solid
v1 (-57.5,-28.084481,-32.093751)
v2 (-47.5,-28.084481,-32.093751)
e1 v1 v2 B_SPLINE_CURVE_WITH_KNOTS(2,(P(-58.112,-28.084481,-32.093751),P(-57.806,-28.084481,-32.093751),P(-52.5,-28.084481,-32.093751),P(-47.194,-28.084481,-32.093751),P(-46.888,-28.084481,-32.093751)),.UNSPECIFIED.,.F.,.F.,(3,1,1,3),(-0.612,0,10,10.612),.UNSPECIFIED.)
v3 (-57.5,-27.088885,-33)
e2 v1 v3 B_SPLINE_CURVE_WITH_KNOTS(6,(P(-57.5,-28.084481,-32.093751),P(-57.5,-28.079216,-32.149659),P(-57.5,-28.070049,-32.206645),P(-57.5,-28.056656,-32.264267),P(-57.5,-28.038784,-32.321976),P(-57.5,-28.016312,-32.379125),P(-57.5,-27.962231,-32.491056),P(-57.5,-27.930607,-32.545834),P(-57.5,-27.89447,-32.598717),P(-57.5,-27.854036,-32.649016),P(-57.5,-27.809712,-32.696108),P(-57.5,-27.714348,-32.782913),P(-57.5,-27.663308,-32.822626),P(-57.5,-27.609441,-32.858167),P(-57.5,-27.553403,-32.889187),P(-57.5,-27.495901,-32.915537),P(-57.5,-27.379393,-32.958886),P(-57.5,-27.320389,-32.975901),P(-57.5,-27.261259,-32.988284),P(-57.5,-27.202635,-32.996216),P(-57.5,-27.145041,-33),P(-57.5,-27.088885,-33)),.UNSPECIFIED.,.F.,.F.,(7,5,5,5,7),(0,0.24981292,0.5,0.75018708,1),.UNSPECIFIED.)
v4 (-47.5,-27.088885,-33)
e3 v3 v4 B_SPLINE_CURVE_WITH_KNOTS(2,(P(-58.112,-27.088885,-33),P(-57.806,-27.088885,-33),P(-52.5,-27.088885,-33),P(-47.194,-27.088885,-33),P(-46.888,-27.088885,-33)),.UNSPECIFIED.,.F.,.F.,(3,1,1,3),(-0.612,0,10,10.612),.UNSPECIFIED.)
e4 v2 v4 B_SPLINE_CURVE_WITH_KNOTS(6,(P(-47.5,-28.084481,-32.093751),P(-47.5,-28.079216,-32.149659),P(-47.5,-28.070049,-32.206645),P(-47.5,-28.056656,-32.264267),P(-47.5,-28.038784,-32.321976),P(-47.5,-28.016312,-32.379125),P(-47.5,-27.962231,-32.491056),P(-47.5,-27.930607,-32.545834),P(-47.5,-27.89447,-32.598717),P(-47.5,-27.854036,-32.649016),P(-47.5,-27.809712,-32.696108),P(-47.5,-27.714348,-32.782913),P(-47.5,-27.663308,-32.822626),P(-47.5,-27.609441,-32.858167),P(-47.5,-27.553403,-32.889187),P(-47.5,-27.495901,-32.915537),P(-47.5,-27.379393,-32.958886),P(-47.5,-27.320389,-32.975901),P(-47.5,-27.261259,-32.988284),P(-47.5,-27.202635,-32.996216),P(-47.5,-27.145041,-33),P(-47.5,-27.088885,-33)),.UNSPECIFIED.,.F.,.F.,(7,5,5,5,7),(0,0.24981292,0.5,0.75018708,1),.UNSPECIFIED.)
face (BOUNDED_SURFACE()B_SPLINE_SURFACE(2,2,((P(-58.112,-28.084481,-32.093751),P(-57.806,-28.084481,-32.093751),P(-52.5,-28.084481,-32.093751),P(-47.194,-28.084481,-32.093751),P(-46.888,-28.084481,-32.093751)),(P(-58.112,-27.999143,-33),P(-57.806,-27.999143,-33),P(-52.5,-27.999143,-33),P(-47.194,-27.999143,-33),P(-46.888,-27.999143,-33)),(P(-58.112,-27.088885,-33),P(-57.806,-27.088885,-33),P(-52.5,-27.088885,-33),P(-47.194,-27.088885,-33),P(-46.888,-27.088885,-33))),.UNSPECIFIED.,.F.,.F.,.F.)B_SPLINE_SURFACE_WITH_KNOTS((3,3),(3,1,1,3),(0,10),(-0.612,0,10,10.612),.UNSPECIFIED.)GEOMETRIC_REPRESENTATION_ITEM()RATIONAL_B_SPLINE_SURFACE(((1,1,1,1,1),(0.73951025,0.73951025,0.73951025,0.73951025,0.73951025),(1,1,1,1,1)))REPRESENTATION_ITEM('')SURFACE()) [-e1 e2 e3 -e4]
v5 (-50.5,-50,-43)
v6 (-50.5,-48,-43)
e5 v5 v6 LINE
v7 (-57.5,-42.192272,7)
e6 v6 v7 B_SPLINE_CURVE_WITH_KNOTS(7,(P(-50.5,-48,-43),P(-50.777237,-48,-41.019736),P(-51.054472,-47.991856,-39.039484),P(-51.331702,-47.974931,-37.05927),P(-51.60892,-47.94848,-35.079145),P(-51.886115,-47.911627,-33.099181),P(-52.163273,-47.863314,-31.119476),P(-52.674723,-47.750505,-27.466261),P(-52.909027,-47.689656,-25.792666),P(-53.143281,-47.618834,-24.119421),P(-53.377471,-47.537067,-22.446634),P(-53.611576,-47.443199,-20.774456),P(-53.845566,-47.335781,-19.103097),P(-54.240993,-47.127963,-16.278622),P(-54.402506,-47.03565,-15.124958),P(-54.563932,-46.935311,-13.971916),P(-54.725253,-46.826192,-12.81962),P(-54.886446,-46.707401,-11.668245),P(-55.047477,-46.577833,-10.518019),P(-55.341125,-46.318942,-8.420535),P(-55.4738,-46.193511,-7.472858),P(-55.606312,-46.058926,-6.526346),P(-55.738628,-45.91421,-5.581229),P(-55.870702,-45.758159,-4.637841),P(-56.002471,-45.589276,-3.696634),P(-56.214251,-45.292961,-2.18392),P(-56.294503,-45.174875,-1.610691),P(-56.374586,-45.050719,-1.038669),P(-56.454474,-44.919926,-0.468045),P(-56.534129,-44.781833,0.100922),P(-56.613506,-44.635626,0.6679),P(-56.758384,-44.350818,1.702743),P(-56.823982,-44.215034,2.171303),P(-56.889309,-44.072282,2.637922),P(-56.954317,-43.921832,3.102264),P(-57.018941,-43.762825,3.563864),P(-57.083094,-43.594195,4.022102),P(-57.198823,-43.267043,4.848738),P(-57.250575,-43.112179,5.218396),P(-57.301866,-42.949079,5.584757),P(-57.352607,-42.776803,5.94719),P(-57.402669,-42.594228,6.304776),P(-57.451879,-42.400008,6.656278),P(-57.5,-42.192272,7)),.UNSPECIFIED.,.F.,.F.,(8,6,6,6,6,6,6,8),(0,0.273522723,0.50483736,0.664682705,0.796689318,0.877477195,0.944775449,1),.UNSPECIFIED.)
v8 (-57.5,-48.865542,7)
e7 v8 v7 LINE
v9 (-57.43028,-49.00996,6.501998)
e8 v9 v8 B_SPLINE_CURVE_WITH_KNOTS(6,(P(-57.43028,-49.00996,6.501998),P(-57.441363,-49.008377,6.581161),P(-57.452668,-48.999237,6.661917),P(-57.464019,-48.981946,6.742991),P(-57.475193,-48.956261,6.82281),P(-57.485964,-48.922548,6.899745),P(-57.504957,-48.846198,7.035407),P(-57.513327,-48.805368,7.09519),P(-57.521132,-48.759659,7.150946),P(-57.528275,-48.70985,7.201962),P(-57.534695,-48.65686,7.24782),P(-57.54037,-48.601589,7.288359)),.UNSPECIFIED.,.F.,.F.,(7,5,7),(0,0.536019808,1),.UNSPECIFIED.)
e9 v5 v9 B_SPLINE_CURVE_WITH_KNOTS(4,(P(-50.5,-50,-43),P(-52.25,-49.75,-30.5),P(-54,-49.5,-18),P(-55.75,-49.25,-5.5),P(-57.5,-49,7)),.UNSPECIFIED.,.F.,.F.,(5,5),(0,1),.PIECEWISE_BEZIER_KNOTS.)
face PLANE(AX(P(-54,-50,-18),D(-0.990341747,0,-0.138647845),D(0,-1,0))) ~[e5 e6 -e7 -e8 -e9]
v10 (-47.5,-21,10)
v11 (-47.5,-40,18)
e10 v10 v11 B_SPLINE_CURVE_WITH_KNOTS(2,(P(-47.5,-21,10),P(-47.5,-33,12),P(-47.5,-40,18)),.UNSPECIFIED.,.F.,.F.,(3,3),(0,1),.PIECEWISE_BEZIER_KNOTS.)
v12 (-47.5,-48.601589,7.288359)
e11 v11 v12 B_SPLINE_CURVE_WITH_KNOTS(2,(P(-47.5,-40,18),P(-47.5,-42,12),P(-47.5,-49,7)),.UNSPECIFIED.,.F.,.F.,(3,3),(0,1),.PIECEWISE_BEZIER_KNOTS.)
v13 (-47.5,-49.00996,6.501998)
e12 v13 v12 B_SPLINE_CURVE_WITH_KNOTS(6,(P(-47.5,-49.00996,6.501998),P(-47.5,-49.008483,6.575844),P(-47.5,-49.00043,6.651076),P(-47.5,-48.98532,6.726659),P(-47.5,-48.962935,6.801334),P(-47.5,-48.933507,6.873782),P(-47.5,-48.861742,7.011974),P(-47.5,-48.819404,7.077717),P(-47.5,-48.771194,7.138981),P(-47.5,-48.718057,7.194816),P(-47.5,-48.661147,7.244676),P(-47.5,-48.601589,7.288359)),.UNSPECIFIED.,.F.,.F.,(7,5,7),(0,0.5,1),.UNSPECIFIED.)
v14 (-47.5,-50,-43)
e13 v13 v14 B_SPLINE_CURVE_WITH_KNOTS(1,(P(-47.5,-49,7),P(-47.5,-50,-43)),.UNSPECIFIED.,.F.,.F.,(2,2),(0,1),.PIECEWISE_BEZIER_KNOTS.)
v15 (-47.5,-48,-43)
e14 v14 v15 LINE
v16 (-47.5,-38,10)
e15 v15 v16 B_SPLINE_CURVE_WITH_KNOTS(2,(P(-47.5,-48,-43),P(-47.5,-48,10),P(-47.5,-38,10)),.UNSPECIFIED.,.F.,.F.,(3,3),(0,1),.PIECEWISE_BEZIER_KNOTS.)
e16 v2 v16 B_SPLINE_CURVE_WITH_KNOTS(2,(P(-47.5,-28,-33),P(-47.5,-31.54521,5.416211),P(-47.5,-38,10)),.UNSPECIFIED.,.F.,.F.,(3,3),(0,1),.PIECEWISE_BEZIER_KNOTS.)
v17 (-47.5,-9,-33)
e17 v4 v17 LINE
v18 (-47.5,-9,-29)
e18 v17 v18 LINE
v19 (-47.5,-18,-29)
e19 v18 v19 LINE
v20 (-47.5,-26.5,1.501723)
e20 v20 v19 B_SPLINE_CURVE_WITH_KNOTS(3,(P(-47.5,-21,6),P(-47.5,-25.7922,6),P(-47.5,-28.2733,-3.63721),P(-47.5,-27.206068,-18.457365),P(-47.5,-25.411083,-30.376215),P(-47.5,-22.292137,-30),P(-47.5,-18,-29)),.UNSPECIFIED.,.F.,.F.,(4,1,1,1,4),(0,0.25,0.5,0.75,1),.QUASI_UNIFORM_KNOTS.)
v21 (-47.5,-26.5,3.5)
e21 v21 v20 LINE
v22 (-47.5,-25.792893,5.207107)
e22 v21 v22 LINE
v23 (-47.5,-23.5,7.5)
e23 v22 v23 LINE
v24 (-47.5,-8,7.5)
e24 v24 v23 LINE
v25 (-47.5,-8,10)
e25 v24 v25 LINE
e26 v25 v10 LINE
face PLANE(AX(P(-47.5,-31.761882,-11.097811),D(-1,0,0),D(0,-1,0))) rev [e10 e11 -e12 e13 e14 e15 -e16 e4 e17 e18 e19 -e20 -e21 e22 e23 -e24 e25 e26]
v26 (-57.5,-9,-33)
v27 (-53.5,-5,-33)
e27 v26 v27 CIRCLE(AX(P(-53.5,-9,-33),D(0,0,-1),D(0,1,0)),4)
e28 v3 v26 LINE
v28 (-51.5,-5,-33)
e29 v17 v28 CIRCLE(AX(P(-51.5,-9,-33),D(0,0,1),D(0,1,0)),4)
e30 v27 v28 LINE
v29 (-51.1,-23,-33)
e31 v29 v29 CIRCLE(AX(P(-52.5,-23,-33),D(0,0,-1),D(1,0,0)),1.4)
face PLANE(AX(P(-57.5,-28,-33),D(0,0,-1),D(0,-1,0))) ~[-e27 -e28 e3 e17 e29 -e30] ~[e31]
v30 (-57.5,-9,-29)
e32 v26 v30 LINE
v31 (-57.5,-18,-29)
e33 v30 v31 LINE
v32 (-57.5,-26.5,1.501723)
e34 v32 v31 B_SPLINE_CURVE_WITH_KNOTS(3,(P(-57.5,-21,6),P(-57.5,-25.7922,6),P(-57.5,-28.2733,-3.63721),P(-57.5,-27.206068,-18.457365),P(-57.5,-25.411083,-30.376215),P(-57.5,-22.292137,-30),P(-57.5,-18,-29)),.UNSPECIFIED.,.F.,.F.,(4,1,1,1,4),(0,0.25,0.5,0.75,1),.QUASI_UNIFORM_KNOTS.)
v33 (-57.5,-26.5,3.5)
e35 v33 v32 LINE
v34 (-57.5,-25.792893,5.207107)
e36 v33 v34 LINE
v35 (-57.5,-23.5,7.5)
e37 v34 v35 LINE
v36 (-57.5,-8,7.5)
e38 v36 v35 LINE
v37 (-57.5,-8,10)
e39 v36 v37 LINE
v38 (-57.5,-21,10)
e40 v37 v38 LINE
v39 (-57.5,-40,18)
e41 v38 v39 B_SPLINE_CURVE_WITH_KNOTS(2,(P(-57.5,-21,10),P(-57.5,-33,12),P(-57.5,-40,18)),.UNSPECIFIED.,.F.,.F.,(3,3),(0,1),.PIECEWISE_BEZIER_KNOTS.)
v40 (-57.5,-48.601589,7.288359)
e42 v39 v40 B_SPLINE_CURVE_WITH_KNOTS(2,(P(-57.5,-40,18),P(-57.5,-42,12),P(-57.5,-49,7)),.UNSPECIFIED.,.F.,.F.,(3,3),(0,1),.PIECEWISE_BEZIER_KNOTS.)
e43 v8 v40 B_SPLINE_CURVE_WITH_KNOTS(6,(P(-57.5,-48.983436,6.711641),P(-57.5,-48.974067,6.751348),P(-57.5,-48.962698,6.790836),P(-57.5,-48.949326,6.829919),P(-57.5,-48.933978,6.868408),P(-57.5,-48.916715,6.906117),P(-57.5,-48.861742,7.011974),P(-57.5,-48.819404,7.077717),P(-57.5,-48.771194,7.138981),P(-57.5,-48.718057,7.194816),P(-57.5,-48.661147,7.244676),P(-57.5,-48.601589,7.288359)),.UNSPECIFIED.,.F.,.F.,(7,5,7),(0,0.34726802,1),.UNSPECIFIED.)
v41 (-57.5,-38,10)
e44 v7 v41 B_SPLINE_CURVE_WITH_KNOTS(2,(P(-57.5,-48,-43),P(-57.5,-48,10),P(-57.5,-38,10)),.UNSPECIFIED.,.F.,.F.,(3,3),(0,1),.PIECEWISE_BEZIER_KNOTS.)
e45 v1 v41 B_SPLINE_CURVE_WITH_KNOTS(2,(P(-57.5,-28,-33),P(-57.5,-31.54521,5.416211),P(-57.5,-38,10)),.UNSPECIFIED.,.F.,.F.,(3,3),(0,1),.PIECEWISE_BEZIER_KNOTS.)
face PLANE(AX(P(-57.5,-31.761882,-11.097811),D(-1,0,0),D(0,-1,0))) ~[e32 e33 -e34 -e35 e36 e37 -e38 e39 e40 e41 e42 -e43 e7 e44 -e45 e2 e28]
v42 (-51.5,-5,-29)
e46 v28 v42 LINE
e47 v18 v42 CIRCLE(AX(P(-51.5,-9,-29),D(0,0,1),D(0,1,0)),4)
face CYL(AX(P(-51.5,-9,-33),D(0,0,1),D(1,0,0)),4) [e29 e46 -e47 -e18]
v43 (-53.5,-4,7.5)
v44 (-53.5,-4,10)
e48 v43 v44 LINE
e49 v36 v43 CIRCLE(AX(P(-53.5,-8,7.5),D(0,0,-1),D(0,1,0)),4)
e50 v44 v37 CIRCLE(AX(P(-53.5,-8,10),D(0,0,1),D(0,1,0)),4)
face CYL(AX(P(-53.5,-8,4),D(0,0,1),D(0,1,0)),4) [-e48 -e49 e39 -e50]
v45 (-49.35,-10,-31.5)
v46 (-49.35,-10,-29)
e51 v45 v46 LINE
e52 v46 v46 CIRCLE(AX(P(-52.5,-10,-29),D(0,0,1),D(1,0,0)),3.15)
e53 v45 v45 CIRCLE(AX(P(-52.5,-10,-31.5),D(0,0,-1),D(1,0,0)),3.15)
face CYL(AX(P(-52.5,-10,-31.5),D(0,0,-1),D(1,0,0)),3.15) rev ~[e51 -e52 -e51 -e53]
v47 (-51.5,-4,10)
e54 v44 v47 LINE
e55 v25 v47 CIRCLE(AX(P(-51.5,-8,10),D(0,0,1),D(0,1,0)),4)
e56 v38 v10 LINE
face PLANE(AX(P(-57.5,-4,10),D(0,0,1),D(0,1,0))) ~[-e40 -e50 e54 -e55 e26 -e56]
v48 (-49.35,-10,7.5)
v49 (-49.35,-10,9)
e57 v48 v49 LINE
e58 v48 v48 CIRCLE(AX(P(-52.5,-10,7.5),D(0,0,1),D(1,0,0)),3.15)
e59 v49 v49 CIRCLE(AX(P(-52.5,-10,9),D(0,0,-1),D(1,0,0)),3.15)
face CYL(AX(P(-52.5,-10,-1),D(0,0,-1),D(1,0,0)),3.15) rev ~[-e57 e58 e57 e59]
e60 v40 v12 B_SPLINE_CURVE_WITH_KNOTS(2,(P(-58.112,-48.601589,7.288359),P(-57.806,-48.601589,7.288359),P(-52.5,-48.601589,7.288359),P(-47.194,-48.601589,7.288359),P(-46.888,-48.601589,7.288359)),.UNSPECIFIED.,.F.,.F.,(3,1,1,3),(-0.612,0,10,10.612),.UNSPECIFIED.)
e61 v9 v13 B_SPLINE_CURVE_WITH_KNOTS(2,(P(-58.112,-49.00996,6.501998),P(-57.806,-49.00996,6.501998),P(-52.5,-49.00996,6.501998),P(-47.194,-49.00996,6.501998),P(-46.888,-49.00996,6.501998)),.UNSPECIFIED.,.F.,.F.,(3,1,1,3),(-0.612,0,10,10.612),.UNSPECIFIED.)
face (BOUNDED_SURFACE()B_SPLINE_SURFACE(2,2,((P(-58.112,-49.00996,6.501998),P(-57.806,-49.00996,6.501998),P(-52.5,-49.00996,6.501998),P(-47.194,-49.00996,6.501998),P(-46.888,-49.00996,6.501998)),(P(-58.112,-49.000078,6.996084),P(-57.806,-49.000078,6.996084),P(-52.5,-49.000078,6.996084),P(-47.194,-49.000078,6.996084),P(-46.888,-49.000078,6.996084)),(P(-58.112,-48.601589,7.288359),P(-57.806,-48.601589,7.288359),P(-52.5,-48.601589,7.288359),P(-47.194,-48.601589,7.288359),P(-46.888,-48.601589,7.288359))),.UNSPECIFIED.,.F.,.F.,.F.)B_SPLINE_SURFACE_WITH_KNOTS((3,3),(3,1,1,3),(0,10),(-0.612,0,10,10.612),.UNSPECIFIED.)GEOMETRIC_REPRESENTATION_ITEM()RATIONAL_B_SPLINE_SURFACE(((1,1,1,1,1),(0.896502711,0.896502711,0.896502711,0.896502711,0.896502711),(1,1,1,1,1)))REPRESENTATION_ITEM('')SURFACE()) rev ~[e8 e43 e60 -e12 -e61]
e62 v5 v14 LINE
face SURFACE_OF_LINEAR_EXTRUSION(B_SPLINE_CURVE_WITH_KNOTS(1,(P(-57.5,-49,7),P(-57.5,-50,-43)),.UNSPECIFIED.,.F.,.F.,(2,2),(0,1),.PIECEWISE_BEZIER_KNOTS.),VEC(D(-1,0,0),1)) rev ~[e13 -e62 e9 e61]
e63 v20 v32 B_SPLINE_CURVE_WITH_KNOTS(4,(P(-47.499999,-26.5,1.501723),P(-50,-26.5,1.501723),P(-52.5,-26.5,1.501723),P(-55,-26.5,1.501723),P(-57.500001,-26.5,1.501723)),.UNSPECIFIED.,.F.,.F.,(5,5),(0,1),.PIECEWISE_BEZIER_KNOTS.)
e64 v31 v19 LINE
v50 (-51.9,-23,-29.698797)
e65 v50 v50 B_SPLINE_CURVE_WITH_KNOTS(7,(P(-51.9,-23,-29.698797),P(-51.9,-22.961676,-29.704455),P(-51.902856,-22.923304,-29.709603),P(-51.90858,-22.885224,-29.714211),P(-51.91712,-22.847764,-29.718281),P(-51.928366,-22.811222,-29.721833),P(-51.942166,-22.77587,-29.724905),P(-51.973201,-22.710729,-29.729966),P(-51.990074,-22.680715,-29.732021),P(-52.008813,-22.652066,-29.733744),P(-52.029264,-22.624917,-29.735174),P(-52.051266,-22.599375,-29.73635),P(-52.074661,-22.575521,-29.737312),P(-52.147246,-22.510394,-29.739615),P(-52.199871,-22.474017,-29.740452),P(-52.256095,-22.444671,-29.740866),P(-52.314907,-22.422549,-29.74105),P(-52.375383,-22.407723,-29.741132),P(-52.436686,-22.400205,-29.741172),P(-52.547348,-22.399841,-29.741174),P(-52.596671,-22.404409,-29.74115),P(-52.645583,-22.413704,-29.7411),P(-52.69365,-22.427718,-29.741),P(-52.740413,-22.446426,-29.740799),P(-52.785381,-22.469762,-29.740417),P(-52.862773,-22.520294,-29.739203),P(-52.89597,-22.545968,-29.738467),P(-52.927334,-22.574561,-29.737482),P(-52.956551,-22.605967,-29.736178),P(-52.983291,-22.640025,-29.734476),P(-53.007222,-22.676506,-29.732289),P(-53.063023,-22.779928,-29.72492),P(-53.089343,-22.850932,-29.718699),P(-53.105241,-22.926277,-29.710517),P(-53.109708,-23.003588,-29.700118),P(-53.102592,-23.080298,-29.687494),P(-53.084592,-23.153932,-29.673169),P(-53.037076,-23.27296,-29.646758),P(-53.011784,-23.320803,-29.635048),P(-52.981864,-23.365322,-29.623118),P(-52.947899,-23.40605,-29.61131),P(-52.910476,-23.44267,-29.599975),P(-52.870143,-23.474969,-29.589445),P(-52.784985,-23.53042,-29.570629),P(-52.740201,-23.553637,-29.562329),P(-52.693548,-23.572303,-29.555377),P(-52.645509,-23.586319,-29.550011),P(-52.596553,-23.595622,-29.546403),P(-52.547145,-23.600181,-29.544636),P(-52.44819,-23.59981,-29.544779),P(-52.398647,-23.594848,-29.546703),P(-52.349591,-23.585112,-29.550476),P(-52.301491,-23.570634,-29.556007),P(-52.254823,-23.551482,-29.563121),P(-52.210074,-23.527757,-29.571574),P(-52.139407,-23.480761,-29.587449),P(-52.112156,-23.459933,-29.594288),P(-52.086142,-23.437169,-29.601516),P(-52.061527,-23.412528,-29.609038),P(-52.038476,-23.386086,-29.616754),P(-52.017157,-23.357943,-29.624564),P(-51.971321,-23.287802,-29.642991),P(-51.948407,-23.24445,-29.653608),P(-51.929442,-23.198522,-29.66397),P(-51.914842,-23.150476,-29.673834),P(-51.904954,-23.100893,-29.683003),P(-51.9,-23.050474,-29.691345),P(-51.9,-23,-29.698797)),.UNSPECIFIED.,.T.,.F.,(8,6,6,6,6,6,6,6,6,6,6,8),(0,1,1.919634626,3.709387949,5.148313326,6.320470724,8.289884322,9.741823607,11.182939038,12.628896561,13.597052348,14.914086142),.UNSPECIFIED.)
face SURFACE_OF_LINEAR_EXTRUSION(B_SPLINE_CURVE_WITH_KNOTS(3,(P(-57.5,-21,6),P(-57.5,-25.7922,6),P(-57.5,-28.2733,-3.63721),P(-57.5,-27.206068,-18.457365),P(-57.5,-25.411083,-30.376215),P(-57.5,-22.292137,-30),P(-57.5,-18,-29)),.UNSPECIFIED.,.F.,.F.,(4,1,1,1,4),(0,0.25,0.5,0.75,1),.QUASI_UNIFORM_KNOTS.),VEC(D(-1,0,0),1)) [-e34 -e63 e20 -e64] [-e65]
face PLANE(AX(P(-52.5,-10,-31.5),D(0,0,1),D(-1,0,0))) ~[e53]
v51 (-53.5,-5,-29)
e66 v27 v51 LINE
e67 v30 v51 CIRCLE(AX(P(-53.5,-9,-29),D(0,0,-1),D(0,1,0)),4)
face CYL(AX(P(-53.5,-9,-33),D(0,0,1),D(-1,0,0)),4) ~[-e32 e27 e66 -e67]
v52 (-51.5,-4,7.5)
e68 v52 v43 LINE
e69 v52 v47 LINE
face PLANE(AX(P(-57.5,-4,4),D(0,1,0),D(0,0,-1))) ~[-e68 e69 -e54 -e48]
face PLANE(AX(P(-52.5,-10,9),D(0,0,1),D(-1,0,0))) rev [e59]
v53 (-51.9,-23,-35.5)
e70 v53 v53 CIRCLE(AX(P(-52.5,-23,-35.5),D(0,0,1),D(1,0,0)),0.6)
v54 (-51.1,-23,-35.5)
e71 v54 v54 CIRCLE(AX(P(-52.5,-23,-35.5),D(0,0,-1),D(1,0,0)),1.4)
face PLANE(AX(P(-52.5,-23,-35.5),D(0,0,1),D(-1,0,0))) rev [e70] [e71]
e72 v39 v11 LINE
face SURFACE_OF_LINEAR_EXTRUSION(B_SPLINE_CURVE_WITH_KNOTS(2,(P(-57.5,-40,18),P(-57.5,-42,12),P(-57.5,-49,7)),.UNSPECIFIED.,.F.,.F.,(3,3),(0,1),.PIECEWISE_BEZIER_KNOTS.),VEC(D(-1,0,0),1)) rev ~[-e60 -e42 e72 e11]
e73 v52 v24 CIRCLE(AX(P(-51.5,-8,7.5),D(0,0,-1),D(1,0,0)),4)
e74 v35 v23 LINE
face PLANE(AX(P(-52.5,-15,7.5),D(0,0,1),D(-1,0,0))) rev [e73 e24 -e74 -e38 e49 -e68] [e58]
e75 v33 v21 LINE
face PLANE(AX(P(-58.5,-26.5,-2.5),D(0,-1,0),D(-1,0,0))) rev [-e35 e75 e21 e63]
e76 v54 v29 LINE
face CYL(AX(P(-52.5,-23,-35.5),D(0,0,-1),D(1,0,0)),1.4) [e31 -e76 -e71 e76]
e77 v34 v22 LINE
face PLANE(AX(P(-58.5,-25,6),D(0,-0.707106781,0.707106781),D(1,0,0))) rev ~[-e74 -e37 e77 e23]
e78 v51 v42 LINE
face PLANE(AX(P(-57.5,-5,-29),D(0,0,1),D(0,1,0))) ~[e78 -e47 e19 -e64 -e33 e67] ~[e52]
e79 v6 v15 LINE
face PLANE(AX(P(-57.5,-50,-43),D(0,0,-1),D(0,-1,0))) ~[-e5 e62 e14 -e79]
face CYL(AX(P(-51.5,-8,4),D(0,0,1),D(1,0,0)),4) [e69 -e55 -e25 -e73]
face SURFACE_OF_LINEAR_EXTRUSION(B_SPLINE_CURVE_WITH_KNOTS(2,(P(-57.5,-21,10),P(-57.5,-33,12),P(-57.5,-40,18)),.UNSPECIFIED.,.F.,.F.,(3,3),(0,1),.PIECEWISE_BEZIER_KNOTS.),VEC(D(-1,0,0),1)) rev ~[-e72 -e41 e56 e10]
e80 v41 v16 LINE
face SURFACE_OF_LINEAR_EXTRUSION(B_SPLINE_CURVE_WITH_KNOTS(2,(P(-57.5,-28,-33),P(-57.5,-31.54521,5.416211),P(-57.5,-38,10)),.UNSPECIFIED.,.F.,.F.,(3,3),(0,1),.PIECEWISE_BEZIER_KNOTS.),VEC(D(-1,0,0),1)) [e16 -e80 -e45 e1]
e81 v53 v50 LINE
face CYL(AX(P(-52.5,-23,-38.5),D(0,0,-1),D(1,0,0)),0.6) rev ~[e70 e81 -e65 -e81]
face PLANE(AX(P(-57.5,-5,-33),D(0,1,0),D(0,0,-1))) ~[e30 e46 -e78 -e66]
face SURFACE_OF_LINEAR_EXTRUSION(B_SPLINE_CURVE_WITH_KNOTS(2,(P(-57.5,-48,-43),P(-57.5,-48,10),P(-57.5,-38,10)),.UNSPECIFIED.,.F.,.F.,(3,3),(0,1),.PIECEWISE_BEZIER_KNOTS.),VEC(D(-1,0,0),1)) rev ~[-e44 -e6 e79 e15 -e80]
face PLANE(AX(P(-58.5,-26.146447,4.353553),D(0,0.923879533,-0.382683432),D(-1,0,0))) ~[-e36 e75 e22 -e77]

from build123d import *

# Parameters (mm, degrees)
CYLINDER129_R                     = 3.15
CYLINDER129_DEPTH                 = 10
CYLINDER131_R                     = 0.6
CYLINDER131_DEPTH                 = 20
BOX076_W                          = 12
BOX076_H                          = 23
BOX076_DEPTH                      = 10
CHAMFER015_SIZE                   = 3
CHAMFER014_SIZE                   = 1
CYLINDER130_R                     = 3.15
CYLINDER130_DEPTH                 = 10
PAD011_DEPTH                      = 10
CHAMFER016_SIZE2                  = 50
CHAMFER016_SIZE                   = 7
FILLET074_R                       = 1
FILLET072_R                       = 1
FILLET071_R                       = 4
CYLINDER132_R                     = 1.4
CYLINDER132_DEPTH                 = 2.5
FILLET073_R                       = 4
PART_MIRRORING002_PLACEMENT_ANGLE = 180


with BuildPart() as zylinder129:
    # Cylinder129 → Cylinder129 (new body)
    with BuildSketch(Plane(origin=(-52.5, 10, -1), x_dir=(1, 0, 0), z_dir=(0, 0, 1))):
        Circle(CYLINDER129_R)
    extrude(amount=CYLINDER129_DEPTH)


with BuildPart() as zylinder131:
    # Cylinder131 → Cylinder131 (new body)
    with BuildSketch(Plane(origin=(-52.5, 23, -38.5), x_dir=(1, 0, 0), z_dir=(0, 0, 1))):
        Circle(CYLINDER131_R)
    extrude(amount=CYLINDER131_DEPTH)


with BuildPart() as chamfer014:
    # Box076 → Box076 (new body)
    with BuildSketch(Plane(origin=(-58.5, 3.5, -2.5), x_dir=(1, 0, 0), z_dir=(0, 0, 1))):
        with Locations((6, 11.5)):
            Rectangle(BOX076_W, BOX076_H)
    extrude(amount=BOX076_DEPTH)

    # Chamfer015
    chamfer015_edges = [chamfer014.edges().sort_by_distance(p)[0] for p in [
        (-52.5, 26.5, 7.5),
    ]]
    chamfer(chamfer015_edges, length=CHAMFER015_SIZE)

    # Chamfer014
    chamfer014_edges = [chamfer014.edges().sort_by_distance(p)[0] for p in [
        (-52.5, 26.5, 4.5),
    ]]
    chamfer(chamfer014_edges, length=CHAMFER014_SIZE)


with BuildPart() as fusion086:
    # Cylinder130 → Cylinder130 (new body)
    with BuildSketch(Plane(origin=(-52.5, 10, -31.5), x_dir=(1, 0, 0), z_dir=(0, 0, 1))):
        Circle(CYLINDER130_R)
    extrude(amount=CYLINDER130_DEPTH)

    # Fusion086: union Zylinder129, Zylinder131, Chamfer014
    add(zylinder129.part)
    add(zylinder131.part)
    add(chamfer014.part)


with BuildPart() as fillet071:
    # Sketch011 → Pad011 (new body)
    with BuildSketch(Plane.YZ):
        with BuildLine():
            Line((16, 4), (4, 4))
            Line((4, 4), (4, 10))
            Line((4, 10), (21, 10))
            add(Edge.make_bspline(
                [(21, 10), (33, 12), (40, 18)],
                knots=[0, 0, 0, 1, 1, 1], degree=2))
            add(Edge.make_bspline(
                [(40, 18), (42, 12), (49, 7)],
                knots=[0, 0, 0, 1, 1, 1], degree=2))
            add(Edge.make_bspline(
                [(49, 7), (50, -43)],
                knots=[0, 0, 1, 1], degree=1))
            Line((50, -43), (48, -43))
            add(Edge.make_bspline(
                [(48, -43), (48, 10), (38, 10)],
                knots=[0, 0, 0, 1, 1, 1], degree=2))
            add(Edge.make_bspline(
                [(28, -33), (31.54521, 5.416211), (38, 10)],
                knots=[0, 0, 0, 1, 1, 1], degree=2))
            Line((28, -33), (5, -33))
            Line((5, -33), (5, -29))
            Line((5, -29), (18, -29))
            add(Edge.make_bspline(
                [(21, 6), (25.7922, 6), (28.2733, -3.63721), (27.206068, -18.457365), (25.411083, -30.376215), (22.292137, -30), (18, -29)],
                knots=[0, 0, 0, 0, 0.25, 0.5, 0.75, 1, 1, 1, 1], degree=3))
            Line((21, 6), (16, 4))
        make_face()
    extrude(amount=PAD011_DEPTH)

    # Chamfer016
    chamfer016_edges = [fillet071.edges().sort_by_distance(p)[0] for p in [
        (0, 49, -43),
    ]]
    chamfer016_side = fillet071.faces().sort_by_distance((5, 49, -43))[0]
    chamfer(chamfer016_edges, length=CHAMFER016_SIZE, length2=CHAMFER016_SIZE2, reference=chamfer016_side)


with BuildPart() as fillet071_1:
    # Chamfer016 placement: moved
    add(fillet071.part.moved(Location((11.5, 0, 0))))

    # Fillet074
    fillet074_edges = [fillet071_1.edges().sort_by_distance(p)[0] for p in [
        (16.5, 49, 7),
    ]]
    fillet(fillet074_edges, radius=FILLET074_R)

    # Fillet072
    fillet072_edges = [fillet071_1.edges().sort_by_distance(p)[0] for p in [
        (16.5, 28, -33),
    ]]
    fillet(fillet072_edges, radius=FILLET072_R)

    # Fillet071
    fillet071_edges = [fillet071_1.edges().sort_by_distance(p)[0] for p in [
        (21.5, 4, 7),
        (11.5, 4, 7),
    ]]
    fillet(fillet071_edges, radius=FILLET071_R)


with BuildPart() as fillet073:
    # Cylinder132 → Cylinder132 (new body)
    with BuildSketch(Plane(origin=(16.5, 23, -35.5), x_dir=(1, 0, 0), z_dir=(0, 0, 1))):
        Circle(CYLINDER132_R)
    extrude(amount=CYLINDER132_DEPTH)

    # Fusion085: union Fillet071
    add(fillet071_1.part)


with BuildPart() as fillet073_1:
    # Fusion085 placement: moved
    add(fillet073.part.moved(Location((-69, 0, 0))))

    # Cut064: cut Fusion086
    add(fusion086.part, mode=Mode.SUBTRACT)

    # Fillet073
    fillet073_edges = [fillet073_1.edges().sort_by_distance(p)[0] for p in [
        (-47.5, 5, -31),
        (-57.5, 5, -31),
    ]]
    fillet(fillet073_edges, radius=FILLET073_R)


with BuildPart() as part_mirroring002:
    # Part__Mirroring002: instance of Fillet073
    add(fillet073_1.part.mirror(Plane(origin=(0, 0, 0), x_dir=(0, 1, 0), z_dir=(0, 0, 1))))


with BuildPart() as part_mirroring002_1:
    # Part__Mirroring002 placement: moved
    add(part_mirroring002.part.rotate(Axis((0, 0, 0), (1, 0, 0)), PART_MIRRORING002_PLACEMENT_ANGLE))


solid = part_mirroring002_1.part
